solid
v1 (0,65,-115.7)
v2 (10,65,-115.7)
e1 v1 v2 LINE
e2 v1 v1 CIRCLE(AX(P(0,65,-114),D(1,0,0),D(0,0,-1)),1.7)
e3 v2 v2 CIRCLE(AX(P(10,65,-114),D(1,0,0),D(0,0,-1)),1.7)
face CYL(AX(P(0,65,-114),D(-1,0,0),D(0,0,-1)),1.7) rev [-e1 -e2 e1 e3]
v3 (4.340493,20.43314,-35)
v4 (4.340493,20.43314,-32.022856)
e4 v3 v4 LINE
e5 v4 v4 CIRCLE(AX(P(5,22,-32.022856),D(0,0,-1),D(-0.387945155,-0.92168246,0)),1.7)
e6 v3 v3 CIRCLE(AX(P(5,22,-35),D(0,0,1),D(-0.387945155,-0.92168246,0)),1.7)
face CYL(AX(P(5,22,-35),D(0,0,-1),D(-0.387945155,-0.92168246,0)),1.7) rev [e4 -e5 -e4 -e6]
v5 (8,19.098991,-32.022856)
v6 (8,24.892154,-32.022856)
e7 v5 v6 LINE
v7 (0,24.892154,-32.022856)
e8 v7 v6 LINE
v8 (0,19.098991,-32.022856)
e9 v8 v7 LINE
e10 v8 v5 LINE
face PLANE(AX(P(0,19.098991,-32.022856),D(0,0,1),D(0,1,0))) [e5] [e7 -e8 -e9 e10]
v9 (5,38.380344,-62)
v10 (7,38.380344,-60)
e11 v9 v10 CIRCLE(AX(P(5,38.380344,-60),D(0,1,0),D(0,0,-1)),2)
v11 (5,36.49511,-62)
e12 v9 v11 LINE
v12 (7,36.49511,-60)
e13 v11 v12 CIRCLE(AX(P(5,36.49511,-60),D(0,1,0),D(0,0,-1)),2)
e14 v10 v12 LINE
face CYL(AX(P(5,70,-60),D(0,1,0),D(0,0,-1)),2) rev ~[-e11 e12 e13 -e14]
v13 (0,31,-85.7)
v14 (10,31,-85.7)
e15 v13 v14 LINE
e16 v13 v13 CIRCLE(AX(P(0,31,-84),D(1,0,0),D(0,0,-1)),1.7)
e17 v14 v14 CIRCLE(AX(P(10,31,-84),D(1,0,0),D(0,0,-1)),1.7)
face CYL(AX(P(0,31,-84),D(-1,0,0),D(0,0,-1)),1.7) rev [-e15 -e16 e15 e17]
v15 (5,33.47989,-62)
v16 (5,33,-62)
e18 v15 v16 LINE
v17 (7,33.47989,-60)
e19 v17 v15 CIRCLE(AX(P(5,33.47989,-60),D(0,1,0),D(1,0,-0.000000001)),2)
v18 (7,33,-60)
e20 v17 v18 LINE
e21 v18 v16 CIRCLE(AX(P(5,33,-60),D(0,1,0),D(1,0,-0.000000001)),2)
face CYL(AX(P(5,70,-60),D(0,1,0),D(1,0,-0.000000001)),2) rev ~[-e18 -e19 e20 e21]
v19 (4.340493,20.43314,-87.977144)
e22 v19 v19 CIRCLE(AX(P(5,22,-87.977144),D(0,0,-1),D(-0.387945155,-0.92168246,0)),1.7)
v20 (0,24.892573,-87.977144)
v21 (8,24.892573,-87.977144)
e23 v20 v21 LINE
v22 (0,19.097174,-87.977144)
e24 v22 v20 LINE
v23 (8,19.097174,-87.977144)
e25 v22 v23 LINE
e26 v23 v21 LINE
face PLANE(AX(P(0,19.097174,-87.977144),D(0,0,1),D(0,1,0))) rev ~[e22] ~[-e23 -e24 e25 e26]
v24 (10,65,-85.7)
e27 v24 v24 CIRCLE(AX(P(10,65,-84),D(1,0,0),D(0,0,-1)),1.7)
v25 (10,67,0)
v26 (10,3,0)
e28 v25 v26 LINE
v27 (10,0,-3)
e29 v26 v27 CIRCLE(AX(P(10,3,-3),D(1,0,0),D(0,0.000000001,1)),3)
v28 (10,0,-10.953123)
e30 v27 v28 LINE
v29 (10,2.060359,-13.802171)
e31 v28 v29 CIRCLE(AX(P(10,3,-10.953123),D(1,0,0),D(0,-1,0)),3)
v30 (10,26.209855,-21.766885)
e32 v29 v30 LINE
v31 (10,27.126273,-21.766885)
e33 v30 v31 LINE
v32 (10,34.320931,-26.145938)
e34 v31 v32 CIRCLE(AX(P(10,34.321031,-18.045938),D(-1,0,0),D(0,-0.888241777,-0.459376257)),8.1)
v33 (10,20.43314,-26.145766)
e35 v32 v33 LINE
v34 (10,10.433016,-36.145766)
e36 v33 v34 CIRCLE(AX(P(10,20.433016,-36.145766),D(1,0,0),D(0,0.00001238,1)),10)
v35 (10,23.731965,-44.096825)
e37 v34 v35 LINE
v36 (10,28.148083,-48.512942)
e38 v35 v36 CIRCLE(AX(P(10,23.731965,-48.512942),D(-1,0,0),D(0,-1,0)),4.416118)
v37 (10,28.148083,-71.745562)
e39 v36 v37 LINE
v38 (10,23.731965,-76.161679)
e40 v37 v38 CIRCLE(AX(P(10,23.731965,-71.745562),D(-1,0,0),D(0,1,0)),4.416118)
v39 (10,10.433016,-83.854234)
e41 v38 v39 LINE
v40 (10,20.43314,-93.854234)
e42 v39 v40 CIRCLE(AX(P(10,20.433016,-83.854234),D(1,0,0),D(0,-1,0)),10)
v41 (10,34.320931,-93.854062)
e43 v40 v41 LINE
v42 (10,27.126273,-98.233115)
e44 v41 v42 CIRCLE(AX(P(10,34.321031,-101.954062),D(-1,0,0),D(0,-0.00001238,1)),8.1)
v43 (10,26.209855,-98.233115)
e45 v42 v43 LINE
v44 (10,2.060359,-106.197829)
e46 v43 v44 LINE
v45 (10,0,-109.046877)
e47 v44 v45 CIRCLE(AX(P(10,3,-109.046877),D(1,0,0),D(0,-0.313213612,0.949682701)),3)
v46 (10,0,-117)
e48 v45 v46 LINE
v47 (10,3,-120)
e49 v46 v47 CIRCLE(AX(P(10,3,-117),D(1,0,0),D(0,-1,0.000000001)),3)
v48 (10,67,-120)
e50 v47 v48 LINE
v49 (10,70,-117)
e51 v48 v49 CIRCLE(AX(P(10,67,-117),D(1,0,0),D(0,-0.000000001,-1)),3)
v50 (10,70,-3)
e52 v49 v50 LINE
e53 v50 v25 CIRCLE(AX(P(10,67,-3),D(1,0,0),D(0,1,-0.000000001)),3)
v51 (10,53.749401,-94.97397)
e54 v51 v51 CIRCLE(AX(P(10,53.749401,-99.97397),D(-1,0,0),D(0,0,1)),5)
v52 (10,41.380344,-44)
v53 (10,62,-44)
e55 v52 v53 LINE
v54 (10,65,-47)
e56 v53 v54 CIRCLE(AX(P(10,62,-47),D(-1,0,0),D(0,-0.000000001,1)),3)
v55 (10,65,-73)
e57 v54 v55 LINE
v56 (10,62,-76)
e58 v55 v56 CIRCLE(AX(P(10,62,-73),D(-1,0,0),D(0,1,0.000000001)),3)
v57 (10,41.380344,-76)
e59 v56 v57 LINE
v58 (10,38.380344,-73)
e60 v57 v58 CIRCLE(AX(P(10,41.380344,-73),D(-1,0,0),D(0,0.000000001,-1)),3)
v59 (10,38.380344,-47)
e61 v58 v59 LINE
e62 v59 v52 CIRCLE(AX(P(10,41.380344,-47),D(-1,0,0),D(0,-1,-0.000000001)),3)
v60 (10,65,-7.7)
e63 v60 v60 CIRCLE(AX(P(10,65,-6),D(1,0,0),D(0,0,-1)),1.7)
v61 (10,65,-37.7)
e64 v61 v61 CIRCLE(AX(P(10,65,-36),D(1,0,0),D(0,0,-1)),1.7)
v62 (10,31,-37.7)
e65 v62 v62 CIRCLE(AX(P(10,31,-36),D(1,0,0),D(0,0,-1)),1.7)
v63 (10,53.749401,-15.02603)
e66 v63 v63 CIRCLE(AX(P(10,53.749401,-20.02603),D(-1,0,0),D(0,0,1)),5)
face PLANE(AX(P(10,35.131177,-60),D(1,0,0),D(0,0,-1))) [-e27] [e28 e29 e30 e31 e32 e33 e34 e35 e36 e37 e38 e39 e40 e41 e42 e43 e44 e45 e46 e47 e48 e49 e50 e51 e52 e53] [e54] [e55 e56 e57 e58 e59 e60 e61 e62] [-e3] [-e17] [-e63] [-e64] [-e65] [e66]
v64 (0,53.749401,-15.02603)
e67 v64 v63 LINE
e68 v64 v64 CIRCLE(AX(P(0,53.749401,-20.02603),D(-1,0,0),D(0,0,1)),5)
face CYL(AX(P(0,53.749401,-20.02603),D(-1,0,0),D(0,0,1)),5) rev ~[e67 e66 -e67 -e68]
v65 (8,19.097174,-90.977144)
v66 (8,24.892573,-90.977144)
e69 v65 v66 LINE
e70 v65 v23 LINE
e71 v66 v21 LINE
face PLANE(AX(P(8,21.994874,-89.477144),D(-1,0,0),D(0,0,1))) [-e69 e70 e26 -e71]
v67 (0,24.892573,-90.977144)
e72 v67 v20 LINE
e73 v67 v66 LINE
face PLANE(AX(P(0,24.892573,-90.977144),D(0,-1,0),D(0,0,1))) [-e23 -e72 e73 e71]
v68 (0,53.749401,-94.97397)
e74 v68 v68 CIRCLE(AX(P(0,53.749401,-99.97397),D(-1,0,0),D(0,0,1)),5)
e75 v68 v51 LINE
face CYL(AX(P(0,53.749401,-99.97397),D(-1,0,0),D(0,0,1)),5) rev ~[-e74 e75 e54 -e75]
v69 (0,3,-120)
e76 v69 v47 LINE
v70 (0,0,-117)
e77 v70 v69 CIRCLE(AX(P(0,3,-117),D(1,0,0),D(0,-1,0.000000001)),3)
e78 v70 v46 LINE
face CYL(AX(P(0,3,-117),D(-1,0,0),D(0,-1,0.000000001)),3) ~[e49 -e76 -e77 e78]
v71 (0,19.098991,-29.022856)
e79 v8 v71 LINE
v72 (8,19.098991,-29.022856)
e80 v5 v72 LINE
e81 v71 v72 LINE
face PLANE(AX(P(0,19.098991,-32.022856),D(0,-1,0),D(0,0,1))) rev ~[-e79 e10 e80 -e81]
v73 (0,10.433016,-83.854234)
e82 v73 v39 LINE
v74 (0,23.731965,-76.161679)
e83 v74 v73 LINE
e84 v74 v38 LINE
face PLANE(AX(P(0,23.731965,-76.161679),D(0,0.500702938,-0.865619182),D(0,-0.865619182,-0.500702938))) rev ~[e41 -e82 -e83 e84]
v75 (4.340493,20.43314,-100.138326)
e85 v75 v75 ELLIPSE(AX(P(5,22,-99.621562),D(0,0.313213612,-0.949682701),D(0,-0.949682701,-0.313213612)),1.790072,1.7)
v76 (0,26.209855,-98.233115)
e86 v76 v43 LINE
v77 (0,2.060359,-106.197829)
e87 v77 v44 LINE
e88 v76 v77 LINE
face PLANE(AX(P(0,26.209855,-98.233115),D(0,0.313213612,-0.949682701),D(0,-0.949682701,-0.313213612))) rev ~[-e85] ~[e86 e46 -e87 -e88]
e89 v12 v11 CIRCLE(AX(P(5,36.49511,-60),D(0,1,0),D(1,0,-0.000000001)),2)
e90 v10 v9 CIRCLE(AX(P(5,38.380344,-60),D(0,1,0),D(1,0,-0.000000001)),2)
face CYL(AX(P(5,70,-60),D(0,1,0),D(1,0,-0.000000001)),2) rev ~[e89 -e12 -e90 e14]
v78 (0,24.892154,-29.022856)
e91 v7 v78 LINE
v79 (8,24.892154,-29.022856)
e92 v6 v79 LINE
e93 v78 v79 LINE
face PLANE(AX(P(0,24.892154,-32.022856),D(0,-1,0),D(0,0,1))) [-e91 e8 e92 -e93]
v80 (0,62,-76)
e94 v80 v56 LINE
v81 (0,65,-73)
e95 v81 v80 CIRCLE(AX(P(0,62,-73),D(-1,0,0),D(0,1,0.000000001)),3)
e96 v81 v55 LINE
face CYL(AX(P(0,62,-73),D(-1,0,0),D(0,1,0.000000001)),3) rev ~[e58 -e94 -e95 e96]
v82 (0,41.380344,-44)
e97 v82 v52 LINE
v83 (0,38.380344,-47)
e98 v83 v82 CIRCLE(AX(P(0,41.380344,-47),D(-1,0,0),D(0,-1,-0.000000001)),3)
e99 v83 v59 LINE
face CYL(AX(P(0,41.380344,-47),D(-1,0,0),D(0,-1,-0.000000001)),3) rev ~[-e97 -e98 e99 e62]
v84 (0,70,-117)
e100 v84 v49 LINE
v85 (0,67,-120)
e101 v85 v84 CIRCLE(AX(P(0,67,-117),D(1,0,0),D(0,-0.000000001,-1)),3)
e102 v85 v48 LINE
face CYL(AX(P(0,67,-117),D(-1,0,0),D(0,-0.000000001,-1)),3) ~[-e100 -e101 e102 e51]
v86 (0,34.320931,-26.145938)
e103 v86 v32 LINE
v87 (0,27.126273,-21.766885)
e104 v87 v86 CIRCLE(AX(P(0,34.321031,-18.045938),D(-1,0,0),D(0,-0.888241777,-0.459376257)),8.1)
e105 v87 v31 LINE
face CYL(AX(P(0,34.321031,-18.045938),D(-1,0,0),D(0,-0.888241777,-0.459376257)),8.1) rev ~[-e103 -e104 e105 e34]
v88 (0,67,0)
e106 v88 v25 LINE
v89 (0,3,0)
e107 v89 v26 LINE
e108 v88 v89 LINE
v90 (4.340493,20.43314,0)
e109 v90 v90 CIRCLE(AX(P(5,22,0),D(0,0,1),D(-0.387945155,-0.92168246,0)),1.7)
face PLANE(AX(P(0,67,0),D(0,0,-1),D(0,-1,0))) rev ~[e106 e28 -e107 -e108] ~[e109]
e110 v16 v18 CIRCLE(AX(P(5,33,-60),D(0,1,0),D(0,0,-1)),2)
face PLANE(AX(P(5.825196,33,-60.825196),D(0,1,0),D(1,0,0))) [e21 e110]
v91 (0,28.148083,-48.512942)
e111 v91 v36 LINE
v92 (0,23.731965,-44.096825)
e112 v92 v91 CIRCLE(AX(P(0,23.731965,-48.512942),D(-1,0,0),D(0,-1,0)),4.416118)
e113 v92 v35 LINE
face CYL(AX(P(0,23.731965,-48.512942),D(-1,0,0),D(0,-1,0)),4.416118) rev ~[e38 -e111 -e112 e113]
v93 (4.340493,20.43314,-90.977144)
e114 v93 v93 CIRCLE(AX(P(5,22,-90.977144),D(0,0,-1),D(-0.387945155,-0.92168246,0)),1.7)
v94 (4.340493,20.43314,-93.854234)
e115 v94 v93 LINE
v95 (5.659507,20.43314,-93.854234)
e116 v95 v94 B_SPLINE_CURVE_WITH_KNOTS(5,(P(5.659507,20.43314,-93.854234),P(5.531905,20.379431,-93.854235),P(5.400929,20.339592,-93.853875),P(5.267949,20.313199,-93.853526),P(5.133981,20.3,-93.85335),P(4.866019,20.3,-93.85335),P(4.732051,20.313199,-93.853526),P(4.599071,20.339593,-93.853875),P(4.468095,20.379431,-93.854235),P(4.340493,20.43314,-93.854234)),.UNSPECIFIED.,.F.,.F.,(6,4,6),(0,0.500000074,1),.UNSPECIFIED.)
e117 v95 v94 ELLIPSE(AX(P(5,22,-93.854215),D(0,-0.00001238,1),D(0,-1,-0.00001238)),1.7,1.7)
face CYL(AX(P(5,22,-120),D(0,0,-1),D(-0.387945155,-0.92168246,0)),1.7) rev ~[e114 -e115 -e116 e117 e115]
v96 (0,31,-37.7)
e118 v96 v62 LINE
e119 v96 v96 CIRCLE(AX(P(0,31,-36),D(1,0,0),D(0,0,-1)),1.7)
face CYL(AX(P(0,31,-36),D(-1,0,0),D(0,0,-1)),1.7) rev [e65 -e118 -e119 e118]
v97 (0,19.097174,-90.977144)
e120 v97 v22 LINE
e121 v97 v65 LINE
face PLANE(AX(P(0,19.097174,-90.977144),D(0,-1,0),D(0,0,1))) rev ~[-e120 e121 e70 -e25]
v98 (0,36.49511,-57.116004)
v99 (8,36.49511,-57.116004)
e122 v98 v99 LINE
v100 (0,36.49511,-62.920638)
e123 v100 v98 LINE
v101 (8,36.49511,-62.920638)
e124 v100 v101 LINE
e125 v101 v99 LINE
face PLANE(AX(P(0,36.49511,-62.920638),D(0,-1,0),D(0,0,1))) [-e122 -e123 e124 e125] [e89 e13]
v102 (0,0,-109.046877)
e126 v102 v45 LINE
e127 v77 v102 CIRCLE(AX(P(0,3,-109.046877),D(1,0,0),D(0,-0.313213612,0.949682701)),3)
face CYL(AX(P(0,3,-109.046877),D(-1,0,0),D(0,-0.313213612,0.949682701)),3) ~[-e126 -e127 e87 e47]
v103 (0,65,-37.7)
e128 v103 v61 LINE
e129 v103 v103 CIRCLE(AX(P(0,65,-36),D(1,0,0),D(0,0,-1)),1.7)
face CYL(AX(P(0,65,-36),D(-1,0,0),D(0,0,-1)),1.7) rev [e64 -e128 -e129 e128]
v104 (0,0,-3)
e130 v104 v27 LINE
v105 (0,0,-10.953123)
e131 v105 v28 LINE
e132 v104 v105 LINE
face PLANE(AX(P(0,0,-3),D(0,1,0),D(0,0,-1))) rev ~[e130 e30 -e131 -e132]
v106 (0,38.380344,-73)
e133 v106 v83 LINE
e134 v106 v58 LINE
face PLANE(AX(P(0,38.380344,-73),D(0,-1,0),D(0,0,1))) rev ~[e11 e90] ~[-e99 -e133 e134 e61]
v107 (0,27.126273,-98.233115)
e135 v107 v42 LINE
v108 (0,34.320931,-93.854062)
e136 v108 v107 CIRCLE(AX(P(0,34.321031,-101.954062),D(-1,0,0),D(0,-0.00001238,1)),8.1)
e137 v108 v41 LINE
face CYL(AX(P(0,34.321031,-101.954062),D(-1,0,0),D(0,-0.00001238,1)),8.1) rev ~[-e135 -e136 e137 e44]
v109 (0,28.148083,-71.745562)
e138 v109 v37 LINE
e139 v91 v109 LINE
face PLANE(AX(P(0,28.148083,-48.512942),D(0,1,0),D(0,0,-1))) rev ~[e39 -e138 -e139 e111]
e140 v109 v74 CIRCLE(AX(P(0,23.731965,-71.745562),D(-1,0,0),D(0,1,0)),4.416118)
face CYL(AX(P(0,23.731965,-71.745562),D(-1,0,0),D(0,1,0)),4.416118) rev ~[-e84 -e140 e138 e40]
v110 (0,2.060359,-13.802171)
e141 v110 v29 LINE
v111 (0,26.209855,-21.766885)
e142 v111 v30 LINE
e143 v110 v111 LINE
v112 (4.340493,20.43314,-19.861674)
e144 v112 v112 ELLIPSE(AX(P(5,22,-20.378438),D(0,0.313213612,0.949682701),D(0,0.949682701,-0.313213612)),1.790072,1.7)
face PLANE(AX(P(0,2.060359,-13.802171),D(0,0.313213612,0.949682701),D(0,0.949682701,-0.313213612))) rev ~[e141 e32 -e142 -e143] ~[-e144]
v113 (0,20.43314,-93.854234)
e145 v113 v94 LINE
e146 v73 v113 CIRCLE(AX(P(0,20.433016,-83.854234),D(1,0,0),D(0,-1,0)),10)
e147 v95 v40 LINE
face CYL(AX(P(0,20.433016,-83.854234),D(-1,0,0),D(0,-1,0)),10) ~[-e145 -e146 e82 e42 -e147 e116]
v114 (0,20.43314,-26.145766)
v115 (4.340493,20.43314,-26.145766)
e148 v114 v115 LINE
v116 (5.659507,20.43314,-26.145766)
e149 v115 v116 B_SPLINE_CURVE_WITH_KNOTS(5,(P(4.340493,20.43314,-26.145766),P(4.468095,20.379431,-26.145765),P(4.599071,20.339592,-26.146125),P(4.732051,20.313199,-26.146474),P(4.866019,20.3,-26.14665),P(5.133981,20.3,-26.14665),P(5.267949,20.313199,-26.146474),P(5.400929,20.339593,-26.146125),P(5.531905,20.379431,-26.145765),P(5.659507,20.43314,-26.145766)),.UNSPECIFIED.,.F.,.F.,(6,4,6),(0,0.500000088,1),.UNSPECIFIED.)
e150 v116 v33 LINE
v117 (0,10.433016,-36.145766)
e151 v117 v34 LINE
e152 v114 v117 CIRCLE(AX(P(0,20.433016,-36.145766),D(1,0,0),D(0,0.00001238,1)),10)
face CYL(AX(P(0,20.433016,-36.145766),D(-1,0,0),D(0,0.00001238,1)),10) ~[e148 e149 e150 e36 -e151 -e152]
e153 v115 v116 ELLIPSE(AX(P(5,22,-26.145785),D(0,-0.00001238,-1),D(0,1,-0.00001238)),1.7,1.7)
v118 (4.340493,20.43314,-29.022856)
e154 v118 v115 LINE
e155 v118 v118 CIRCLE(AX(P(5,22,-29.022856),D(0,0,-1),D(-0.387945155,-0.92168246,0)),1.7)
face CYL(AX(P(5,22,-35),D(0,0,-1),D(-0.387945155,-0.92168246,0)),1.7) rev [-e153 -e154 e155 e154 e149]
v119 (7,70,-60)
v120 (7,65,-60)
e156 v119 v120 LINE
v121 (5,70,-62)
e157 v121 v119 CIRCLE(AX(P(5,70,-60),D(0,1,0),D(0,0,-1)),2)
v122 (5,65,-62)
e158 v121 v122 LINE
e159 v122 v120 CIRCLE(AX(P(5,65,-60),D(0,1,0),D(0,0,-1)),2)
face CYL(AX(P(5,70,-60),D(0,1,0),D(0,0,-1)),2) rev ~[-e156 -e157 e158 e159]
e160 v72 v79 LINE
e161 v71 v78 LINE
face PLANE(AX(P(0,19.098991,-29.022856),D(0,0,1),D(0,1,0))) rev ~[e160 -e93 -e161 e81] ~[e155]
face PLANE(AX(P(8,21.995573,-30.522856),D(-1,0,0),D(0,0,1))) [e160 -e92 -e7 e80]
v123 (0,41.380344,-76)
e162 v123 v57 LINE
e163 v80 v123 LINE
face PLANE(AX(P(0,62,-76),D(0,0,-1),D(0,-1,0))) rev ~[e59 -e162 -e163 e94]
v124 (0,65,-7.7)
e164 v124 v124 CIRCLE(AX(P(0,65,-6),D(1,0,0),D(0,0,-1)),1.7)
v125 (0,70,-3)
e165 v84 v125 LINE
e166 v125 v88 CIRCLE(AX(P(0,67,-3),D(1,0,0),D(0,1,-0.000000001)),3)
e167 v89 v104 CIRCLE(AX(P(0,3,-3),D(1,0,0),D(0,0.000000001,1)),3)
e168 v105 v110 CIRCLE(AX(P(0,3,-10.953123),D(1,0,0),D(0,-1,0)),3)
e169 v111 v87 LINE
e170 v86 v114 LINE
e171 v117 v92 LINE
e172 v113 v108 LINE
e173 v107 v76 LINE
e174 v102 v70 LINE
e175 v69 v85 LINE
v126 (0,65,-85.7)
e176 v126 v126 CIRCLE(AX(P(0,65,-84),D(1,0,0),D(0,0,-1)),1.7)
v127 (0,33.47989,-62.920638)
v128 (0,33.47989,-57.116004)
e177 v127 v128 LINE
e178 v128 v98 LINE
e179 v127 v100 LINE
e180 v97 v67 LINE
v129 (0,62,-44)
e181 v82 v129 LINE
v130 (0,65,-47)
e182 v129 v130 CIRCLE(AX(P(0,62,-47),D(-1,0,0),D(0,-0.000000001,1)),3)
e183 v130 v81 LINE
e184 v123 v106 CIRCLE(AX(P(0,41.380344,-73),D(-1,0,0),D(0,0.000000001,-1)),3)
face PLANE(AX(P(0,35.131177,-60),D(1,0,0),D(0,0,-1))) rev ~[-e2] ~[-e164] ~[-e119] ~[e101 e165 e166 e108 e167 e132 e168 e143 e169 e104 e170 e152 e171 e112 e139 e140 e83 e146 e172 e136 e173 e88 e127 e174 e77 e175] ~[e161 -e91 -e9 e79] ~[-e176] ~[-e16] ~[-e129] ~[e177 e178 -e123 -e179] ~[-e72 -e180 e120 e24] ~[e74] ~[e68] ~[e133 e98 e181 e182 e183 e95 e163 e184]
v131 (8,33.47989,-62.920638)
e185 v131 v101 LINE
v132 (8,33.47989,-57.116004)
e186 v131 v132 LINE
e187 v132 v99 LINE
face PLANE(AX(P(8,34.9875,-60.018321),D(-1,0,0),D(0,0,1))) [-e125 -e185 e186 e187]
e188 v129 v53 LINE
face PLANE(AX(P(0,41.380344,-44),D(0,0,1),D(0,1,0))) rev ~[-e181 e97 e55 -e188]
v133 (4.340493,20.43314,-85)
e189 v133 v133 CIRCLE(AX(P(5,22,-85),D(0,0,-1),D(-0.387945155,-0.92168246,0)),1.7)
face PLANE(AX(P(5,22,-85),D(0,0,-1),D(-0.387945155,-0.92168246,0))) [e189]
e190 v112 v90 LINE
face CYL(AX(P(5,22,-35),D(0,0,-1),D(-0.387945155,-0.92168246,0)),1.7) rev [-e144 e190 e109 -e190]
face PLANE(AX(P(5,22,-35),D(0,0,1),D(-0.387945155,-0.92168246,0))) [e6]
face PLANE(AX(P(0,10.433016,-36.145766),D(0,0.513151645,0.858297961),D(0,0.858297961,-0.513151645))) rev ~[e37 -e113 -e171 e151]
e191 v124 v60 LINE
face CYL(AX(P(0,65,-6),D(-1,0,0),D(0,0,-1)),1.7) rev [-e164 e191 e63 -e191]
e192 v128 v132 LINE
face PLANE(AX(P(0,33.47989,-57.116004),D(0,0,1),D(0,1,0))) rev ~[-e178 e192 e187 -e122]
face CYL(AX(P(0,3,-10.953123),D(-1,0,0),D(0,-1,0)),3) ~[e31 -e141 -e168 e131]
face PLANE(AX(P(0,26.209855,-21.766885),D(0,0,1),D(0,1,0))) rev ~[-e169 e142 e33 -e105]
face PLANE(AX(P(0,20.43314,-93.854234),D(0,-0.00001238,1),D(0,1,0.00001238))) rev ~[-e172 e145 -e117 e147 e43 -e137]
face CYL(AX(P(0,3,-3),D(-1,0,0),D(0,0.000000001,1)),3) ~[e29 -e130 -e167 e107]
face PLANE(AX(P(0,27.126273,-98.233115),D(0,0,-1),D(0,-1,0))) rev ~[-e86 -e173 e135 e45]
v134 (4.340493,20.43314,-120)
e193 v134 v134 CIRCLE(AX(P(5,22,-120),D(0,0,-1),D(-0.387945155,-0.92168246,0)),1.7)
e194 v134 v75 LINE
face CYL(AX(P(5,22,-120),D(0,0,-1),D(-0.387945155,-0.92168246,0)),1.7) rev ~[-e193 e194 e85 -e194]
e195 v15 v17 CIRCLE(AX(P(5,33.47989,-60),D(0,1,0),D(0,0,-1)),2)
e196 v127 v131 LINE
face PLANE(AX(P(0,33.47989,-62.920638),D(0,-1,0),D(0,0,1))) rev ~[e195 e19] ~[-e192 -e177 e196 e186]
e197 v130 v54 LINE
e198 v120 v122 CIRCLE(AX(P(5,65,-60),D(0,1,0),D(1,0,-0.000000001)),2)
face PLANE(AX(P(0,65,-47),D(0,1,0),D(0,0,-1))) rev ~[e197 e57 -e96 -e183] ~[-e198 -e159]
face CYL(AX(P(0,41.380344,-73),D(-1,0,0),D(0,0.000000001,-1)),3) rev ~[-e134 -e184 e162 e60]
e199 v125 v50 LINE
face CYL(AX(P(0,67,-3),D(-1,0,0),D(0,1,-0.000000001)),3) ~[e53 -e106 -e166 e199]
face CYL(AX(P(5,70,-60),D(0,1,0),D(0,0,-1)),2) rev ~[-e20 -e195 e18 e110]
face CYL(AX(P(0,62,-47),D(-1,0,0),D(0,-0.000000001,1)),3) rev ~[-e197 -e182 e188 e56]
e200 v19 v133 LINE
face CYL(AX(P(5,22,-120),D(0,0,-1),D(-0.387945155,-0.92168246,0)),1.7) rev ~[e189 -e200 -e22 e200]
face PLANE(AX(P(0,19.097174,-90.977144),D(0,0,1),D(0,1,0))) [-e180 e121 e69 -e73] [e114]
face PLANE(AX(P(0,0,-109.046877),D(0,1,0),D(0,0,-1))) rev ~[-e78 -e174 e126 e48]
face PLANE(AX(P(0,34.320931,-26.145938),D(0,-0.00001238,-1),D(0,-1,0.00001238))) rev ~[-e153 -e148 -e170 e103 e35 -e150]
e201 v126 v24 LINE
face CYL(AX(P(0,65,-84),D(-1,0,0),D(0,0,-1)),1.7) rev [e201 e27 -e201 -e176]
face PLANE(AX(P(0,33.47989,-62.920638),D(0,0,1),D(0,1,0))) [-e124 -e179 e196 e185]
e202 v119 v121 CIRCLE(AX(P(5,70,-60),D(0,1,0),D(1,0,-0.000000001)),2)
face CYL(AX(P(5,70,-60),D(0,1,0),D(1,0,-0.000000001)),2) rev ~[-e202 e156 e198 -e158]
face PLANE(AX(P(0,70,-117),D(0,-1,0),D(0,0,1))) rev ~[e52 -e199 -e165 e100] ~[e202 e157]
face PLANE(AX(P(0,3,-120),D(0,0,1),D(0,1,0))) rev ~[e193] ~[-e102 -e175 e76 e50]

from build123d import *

# Parameters (mm, degrees)
SKETCH_1_R          = 1.7
EXTRUDE_1_DEPTH     = 10
CUT_EXTRUDE_1_DEPTH = 37
SKETCH_3_W          = 3
SKETCH_3_H          = 5.795399196
SKETCH_3_W_2        = 5.804634465
SKETCH_3_H_2        = 3.015219691
SKETCH_3_H_3        = 5.79316294
CUT_EXTRUDE_2_DEPTH = 8
SKETCH_5_R          = 1.7
CUT_EXTRUDE_3_DEPTH = 35
CUT_EXTRUDE_START   = -35
SKETCH_6_R          = 1.7
CUT_EXTRUDE_4_DEPTH = 35
CUT_EXTRUDE_5_DEPTH = 10
SKETCH_9_R          = 5
CUT_EXTRUDE_6_DEPTH = 10


with BuildPart() as part:
    # Эскиз1 → Бобышка-Вытянуть1 (new body)
    with BuildSketch(Plane(origin=(0, 0, 0), x_dir=(0, 0, -1), z_dir=(1, 0, 0))):
        with BuildLine():
            Line((3, 0), (10.95312335, 0))
            ThreePointArc((10.95312335, 0), (12.711116168, 0.569061652), (13.802171454, 2.060359164))
            Line((13.802171454, 2.060359164), (21.766885307, 26.20985548))
            Line((21.766885307, 26.20985548), (21.766885307, 27.126272908))
            ThreePointArc((21.766885307, 27.126272908), (11.12679914, 38.53238769), (26.145937625, 34.320931027))
            Line((26.145937625, 34.320931027), (26.145765698, 20.433139819))
            ThreePointArc((26.145765698, 20.433139819), (29.074654117, 13.361991979), (36.145765697, 10.433016021))
            Line((36.145765697, 10.433016021), (83.854234303, 10.433016021))
            ThreePointArc((83.854234303, 10.433016021), (90.925345883, 13.361991979), (93.854234302, 20.433139819))
            Line((93.854234302, 20.433139819), (93.854062375, 34.320931027))
            ThreePointArc((93.854062375, 34.320931027), (108.87320086, 38.53238769), (98.233114693, 27.126272908))
            Line((98.233114693, 27.126272908), (98.233114693, 26.20985548))
            Line((98.233114693, 26.20985548), (106.197828546, 2.060359164))
            ThreePointArc((106.197828546, 2.060359164), (107.288883832, 0.569061652), (109.04687665, 0))
            Line((109.04687665, 0), (117, 0))
            ThreePointArc((117, 0), (119.121320344, 0.878679656), (120, 3))
            Line((120, 3), (120, 67))
            ThreePointArc((120, 67), (119.121320344, 69.121320344), (117, 70))
            Line((117, 70), (3, 70))
            ThreePointArc((3, 70), (0.878679656, 69.121320344), (0, 67))
            Line((0, 67), (0, 3))
            ThreePointArc((0, 3), (0.878679656, 0.878679656), (3, 0))
        make_face()
        with Locations((36, 65)):
            Circle(SKETCH_1_R, mode=Mode.SUBTRACT)
        with Locations((6, 65)):
            Circle(SKETCH_1_R, mode=Mode.SUBTRACT)
        with Locations((36, 31)):
            Circle(SKETCH_1_R, mode=Mode.SUBTRACT)
        with Locations((84, 31)):
            Circle(SKETCH_1_R, mode=Mode.SUBTRACT)
        with Locations((84, 65)):
            Circle(SKETCH_1_R, mode=Mode.SUBTRACT)
        with Locations((114, 65)):
            Circle(SKETCH_1_R, mode=Mode.SUBTRACT)
        with BuildLine():
            Line((47, 65), (73, 65))
            ThreePointArc((73, 65), (75.121320344, 64.121320344), (76, 62))
            Line((76, 62), (76, 41.380344056))
            ThreePointArc((76, 41.380344056), (75.121320344, 39.259023712), (73, 38.380344056))
            Line((73, 38.380344056), (47, 38.380344056))
            ThreePointArc((47, 38.380344056), (44.878679656, 39.259023712), (44, 41.380344056))
            Line((44, 41.380344056), (44, 62))
            ThreePointArc((44, 62), (44.878679656, 64.121320344), (47, 65))
        make_face(mode=Mode.SUBTRACT)
        with BuildLine():
            Line((48.512942473, 28.14808317), (71.745561711, 28.14808317))
            ThreePointArc((71.745561711, 28.14808317), (76.161679417, 23.731965464), (71.745561711, 19.315847758))
            Line((71.745561711, 19.315847758), (48.512942473, 19.315847758))
            ThreePointArc((48.512942473, 19.315847758), (44.096824767, 23.731965464), (48.512942473, 28.14808317))
        make_face(mode=Mode.SUBTRACT)
    extrude(amount=EXTRUDE_1_DEPTH)

    # Эскиз2 → Вырез-Вытянуть1 (cut)
    with BuildSketch(Plane(origin=(0, 70, 0), x_dir=(1, 0, 0), z_dir=(0, 1, 0))):
        with BuildLine():
            ThreePointArc((7, 60), (6.414213562, 61.414213562), (5, 62))
            Line((5, 62), (5, 60))
            Line((5, 60), (7, 60))
        make_face()
        with BuildLine():
            Line((5, 60), (5, 62))
            ThreePointArc((5, 62), (3.585786438, 58.585786438), (7, 60))
            Line((7, 60), (5, 60))
        make_face()
    extrude(amount=-CUT_EXTRUDE_1_DEPTH, mode=Mode.SUBTRACT)

    # Эскиз3 → Вырез-Вытянуть2 (cut)
    with BuildSketch(Plane.ZY):
        with Locations((-89.477143784, 21.994873796)):
            Rectangle(SKETCH_3_W, SKETCH_3_H)
        with Locations((-60.018321185, 34.987499707)):
            Rectangle(SKETCH_3_W_2, SKETCH_3_H_2)
        with Locations((-30.522856216, 21.995572621)):
            Rectangle(SKETCH_3_W, SKETCH_3_H_3)
    extrude(amount=-CUT_EXTRUDE_2_DEPTH, mode=Mode.SUBTRACT)

    # Эскиз5 → Вырез-Вытянуть3 (cut)
    with BuildSketch(Plane(origin=(0, 0, -120), x_dir=(-1, 0, 0), z_dir=(0, 0, -1))):
        with Locations(Location((-5, 22, 0), (0, 0, 292.826701249))):
            Circle(SKETCH_5_R)
    extrude(amount=-CUT_EXTRUDE_3_DEPTH, mode=Mode.SUBTRACT)

    # Эскиз6 → Вырез-Вытянуть4 (cut)
    with BuildSketch(Plane.XY.offset(CUT_EXTRUDE_START)):
        with Locations(Location((5, 22, 0), (0, 0, 247.173298751))):
            Circle(SKETCH_6_R)
    extrude(amount=CUT_EXTRUDE_4_DEPTH, mode=Mode.SUBTRACT)

    # Эскиз7 → Вырез-Вытянуть5 (cut)
    with BuildSketch(Plane.ZY):
        Polygon((-76.161679417, 23.731965464), (-83.854234303, 10.433016021), (-36.145765697, 10.433016021), (-44.096824767, 23.731965464), align=None)
    extrude(amount=-CUT_EXTRUDE_5_DEPTH, mode=Mode.SUBTRACT)

    # Эскиз9 → Вырез-Вытянуть6 (cut)
    with BuildSketch(Plane.ZY):
        with Locations((-99.973969782, 53.749400687)):
            Circle(SKETCH_9_R)
        with Locations((-20.026030218, 53.749400687)):
            Circle(SKETCH_9_R)
    extrude(amount=-CUT_EXTRUDE_6_DEPTH, mode=Mode.SUBTRACT)


solid = part.part
